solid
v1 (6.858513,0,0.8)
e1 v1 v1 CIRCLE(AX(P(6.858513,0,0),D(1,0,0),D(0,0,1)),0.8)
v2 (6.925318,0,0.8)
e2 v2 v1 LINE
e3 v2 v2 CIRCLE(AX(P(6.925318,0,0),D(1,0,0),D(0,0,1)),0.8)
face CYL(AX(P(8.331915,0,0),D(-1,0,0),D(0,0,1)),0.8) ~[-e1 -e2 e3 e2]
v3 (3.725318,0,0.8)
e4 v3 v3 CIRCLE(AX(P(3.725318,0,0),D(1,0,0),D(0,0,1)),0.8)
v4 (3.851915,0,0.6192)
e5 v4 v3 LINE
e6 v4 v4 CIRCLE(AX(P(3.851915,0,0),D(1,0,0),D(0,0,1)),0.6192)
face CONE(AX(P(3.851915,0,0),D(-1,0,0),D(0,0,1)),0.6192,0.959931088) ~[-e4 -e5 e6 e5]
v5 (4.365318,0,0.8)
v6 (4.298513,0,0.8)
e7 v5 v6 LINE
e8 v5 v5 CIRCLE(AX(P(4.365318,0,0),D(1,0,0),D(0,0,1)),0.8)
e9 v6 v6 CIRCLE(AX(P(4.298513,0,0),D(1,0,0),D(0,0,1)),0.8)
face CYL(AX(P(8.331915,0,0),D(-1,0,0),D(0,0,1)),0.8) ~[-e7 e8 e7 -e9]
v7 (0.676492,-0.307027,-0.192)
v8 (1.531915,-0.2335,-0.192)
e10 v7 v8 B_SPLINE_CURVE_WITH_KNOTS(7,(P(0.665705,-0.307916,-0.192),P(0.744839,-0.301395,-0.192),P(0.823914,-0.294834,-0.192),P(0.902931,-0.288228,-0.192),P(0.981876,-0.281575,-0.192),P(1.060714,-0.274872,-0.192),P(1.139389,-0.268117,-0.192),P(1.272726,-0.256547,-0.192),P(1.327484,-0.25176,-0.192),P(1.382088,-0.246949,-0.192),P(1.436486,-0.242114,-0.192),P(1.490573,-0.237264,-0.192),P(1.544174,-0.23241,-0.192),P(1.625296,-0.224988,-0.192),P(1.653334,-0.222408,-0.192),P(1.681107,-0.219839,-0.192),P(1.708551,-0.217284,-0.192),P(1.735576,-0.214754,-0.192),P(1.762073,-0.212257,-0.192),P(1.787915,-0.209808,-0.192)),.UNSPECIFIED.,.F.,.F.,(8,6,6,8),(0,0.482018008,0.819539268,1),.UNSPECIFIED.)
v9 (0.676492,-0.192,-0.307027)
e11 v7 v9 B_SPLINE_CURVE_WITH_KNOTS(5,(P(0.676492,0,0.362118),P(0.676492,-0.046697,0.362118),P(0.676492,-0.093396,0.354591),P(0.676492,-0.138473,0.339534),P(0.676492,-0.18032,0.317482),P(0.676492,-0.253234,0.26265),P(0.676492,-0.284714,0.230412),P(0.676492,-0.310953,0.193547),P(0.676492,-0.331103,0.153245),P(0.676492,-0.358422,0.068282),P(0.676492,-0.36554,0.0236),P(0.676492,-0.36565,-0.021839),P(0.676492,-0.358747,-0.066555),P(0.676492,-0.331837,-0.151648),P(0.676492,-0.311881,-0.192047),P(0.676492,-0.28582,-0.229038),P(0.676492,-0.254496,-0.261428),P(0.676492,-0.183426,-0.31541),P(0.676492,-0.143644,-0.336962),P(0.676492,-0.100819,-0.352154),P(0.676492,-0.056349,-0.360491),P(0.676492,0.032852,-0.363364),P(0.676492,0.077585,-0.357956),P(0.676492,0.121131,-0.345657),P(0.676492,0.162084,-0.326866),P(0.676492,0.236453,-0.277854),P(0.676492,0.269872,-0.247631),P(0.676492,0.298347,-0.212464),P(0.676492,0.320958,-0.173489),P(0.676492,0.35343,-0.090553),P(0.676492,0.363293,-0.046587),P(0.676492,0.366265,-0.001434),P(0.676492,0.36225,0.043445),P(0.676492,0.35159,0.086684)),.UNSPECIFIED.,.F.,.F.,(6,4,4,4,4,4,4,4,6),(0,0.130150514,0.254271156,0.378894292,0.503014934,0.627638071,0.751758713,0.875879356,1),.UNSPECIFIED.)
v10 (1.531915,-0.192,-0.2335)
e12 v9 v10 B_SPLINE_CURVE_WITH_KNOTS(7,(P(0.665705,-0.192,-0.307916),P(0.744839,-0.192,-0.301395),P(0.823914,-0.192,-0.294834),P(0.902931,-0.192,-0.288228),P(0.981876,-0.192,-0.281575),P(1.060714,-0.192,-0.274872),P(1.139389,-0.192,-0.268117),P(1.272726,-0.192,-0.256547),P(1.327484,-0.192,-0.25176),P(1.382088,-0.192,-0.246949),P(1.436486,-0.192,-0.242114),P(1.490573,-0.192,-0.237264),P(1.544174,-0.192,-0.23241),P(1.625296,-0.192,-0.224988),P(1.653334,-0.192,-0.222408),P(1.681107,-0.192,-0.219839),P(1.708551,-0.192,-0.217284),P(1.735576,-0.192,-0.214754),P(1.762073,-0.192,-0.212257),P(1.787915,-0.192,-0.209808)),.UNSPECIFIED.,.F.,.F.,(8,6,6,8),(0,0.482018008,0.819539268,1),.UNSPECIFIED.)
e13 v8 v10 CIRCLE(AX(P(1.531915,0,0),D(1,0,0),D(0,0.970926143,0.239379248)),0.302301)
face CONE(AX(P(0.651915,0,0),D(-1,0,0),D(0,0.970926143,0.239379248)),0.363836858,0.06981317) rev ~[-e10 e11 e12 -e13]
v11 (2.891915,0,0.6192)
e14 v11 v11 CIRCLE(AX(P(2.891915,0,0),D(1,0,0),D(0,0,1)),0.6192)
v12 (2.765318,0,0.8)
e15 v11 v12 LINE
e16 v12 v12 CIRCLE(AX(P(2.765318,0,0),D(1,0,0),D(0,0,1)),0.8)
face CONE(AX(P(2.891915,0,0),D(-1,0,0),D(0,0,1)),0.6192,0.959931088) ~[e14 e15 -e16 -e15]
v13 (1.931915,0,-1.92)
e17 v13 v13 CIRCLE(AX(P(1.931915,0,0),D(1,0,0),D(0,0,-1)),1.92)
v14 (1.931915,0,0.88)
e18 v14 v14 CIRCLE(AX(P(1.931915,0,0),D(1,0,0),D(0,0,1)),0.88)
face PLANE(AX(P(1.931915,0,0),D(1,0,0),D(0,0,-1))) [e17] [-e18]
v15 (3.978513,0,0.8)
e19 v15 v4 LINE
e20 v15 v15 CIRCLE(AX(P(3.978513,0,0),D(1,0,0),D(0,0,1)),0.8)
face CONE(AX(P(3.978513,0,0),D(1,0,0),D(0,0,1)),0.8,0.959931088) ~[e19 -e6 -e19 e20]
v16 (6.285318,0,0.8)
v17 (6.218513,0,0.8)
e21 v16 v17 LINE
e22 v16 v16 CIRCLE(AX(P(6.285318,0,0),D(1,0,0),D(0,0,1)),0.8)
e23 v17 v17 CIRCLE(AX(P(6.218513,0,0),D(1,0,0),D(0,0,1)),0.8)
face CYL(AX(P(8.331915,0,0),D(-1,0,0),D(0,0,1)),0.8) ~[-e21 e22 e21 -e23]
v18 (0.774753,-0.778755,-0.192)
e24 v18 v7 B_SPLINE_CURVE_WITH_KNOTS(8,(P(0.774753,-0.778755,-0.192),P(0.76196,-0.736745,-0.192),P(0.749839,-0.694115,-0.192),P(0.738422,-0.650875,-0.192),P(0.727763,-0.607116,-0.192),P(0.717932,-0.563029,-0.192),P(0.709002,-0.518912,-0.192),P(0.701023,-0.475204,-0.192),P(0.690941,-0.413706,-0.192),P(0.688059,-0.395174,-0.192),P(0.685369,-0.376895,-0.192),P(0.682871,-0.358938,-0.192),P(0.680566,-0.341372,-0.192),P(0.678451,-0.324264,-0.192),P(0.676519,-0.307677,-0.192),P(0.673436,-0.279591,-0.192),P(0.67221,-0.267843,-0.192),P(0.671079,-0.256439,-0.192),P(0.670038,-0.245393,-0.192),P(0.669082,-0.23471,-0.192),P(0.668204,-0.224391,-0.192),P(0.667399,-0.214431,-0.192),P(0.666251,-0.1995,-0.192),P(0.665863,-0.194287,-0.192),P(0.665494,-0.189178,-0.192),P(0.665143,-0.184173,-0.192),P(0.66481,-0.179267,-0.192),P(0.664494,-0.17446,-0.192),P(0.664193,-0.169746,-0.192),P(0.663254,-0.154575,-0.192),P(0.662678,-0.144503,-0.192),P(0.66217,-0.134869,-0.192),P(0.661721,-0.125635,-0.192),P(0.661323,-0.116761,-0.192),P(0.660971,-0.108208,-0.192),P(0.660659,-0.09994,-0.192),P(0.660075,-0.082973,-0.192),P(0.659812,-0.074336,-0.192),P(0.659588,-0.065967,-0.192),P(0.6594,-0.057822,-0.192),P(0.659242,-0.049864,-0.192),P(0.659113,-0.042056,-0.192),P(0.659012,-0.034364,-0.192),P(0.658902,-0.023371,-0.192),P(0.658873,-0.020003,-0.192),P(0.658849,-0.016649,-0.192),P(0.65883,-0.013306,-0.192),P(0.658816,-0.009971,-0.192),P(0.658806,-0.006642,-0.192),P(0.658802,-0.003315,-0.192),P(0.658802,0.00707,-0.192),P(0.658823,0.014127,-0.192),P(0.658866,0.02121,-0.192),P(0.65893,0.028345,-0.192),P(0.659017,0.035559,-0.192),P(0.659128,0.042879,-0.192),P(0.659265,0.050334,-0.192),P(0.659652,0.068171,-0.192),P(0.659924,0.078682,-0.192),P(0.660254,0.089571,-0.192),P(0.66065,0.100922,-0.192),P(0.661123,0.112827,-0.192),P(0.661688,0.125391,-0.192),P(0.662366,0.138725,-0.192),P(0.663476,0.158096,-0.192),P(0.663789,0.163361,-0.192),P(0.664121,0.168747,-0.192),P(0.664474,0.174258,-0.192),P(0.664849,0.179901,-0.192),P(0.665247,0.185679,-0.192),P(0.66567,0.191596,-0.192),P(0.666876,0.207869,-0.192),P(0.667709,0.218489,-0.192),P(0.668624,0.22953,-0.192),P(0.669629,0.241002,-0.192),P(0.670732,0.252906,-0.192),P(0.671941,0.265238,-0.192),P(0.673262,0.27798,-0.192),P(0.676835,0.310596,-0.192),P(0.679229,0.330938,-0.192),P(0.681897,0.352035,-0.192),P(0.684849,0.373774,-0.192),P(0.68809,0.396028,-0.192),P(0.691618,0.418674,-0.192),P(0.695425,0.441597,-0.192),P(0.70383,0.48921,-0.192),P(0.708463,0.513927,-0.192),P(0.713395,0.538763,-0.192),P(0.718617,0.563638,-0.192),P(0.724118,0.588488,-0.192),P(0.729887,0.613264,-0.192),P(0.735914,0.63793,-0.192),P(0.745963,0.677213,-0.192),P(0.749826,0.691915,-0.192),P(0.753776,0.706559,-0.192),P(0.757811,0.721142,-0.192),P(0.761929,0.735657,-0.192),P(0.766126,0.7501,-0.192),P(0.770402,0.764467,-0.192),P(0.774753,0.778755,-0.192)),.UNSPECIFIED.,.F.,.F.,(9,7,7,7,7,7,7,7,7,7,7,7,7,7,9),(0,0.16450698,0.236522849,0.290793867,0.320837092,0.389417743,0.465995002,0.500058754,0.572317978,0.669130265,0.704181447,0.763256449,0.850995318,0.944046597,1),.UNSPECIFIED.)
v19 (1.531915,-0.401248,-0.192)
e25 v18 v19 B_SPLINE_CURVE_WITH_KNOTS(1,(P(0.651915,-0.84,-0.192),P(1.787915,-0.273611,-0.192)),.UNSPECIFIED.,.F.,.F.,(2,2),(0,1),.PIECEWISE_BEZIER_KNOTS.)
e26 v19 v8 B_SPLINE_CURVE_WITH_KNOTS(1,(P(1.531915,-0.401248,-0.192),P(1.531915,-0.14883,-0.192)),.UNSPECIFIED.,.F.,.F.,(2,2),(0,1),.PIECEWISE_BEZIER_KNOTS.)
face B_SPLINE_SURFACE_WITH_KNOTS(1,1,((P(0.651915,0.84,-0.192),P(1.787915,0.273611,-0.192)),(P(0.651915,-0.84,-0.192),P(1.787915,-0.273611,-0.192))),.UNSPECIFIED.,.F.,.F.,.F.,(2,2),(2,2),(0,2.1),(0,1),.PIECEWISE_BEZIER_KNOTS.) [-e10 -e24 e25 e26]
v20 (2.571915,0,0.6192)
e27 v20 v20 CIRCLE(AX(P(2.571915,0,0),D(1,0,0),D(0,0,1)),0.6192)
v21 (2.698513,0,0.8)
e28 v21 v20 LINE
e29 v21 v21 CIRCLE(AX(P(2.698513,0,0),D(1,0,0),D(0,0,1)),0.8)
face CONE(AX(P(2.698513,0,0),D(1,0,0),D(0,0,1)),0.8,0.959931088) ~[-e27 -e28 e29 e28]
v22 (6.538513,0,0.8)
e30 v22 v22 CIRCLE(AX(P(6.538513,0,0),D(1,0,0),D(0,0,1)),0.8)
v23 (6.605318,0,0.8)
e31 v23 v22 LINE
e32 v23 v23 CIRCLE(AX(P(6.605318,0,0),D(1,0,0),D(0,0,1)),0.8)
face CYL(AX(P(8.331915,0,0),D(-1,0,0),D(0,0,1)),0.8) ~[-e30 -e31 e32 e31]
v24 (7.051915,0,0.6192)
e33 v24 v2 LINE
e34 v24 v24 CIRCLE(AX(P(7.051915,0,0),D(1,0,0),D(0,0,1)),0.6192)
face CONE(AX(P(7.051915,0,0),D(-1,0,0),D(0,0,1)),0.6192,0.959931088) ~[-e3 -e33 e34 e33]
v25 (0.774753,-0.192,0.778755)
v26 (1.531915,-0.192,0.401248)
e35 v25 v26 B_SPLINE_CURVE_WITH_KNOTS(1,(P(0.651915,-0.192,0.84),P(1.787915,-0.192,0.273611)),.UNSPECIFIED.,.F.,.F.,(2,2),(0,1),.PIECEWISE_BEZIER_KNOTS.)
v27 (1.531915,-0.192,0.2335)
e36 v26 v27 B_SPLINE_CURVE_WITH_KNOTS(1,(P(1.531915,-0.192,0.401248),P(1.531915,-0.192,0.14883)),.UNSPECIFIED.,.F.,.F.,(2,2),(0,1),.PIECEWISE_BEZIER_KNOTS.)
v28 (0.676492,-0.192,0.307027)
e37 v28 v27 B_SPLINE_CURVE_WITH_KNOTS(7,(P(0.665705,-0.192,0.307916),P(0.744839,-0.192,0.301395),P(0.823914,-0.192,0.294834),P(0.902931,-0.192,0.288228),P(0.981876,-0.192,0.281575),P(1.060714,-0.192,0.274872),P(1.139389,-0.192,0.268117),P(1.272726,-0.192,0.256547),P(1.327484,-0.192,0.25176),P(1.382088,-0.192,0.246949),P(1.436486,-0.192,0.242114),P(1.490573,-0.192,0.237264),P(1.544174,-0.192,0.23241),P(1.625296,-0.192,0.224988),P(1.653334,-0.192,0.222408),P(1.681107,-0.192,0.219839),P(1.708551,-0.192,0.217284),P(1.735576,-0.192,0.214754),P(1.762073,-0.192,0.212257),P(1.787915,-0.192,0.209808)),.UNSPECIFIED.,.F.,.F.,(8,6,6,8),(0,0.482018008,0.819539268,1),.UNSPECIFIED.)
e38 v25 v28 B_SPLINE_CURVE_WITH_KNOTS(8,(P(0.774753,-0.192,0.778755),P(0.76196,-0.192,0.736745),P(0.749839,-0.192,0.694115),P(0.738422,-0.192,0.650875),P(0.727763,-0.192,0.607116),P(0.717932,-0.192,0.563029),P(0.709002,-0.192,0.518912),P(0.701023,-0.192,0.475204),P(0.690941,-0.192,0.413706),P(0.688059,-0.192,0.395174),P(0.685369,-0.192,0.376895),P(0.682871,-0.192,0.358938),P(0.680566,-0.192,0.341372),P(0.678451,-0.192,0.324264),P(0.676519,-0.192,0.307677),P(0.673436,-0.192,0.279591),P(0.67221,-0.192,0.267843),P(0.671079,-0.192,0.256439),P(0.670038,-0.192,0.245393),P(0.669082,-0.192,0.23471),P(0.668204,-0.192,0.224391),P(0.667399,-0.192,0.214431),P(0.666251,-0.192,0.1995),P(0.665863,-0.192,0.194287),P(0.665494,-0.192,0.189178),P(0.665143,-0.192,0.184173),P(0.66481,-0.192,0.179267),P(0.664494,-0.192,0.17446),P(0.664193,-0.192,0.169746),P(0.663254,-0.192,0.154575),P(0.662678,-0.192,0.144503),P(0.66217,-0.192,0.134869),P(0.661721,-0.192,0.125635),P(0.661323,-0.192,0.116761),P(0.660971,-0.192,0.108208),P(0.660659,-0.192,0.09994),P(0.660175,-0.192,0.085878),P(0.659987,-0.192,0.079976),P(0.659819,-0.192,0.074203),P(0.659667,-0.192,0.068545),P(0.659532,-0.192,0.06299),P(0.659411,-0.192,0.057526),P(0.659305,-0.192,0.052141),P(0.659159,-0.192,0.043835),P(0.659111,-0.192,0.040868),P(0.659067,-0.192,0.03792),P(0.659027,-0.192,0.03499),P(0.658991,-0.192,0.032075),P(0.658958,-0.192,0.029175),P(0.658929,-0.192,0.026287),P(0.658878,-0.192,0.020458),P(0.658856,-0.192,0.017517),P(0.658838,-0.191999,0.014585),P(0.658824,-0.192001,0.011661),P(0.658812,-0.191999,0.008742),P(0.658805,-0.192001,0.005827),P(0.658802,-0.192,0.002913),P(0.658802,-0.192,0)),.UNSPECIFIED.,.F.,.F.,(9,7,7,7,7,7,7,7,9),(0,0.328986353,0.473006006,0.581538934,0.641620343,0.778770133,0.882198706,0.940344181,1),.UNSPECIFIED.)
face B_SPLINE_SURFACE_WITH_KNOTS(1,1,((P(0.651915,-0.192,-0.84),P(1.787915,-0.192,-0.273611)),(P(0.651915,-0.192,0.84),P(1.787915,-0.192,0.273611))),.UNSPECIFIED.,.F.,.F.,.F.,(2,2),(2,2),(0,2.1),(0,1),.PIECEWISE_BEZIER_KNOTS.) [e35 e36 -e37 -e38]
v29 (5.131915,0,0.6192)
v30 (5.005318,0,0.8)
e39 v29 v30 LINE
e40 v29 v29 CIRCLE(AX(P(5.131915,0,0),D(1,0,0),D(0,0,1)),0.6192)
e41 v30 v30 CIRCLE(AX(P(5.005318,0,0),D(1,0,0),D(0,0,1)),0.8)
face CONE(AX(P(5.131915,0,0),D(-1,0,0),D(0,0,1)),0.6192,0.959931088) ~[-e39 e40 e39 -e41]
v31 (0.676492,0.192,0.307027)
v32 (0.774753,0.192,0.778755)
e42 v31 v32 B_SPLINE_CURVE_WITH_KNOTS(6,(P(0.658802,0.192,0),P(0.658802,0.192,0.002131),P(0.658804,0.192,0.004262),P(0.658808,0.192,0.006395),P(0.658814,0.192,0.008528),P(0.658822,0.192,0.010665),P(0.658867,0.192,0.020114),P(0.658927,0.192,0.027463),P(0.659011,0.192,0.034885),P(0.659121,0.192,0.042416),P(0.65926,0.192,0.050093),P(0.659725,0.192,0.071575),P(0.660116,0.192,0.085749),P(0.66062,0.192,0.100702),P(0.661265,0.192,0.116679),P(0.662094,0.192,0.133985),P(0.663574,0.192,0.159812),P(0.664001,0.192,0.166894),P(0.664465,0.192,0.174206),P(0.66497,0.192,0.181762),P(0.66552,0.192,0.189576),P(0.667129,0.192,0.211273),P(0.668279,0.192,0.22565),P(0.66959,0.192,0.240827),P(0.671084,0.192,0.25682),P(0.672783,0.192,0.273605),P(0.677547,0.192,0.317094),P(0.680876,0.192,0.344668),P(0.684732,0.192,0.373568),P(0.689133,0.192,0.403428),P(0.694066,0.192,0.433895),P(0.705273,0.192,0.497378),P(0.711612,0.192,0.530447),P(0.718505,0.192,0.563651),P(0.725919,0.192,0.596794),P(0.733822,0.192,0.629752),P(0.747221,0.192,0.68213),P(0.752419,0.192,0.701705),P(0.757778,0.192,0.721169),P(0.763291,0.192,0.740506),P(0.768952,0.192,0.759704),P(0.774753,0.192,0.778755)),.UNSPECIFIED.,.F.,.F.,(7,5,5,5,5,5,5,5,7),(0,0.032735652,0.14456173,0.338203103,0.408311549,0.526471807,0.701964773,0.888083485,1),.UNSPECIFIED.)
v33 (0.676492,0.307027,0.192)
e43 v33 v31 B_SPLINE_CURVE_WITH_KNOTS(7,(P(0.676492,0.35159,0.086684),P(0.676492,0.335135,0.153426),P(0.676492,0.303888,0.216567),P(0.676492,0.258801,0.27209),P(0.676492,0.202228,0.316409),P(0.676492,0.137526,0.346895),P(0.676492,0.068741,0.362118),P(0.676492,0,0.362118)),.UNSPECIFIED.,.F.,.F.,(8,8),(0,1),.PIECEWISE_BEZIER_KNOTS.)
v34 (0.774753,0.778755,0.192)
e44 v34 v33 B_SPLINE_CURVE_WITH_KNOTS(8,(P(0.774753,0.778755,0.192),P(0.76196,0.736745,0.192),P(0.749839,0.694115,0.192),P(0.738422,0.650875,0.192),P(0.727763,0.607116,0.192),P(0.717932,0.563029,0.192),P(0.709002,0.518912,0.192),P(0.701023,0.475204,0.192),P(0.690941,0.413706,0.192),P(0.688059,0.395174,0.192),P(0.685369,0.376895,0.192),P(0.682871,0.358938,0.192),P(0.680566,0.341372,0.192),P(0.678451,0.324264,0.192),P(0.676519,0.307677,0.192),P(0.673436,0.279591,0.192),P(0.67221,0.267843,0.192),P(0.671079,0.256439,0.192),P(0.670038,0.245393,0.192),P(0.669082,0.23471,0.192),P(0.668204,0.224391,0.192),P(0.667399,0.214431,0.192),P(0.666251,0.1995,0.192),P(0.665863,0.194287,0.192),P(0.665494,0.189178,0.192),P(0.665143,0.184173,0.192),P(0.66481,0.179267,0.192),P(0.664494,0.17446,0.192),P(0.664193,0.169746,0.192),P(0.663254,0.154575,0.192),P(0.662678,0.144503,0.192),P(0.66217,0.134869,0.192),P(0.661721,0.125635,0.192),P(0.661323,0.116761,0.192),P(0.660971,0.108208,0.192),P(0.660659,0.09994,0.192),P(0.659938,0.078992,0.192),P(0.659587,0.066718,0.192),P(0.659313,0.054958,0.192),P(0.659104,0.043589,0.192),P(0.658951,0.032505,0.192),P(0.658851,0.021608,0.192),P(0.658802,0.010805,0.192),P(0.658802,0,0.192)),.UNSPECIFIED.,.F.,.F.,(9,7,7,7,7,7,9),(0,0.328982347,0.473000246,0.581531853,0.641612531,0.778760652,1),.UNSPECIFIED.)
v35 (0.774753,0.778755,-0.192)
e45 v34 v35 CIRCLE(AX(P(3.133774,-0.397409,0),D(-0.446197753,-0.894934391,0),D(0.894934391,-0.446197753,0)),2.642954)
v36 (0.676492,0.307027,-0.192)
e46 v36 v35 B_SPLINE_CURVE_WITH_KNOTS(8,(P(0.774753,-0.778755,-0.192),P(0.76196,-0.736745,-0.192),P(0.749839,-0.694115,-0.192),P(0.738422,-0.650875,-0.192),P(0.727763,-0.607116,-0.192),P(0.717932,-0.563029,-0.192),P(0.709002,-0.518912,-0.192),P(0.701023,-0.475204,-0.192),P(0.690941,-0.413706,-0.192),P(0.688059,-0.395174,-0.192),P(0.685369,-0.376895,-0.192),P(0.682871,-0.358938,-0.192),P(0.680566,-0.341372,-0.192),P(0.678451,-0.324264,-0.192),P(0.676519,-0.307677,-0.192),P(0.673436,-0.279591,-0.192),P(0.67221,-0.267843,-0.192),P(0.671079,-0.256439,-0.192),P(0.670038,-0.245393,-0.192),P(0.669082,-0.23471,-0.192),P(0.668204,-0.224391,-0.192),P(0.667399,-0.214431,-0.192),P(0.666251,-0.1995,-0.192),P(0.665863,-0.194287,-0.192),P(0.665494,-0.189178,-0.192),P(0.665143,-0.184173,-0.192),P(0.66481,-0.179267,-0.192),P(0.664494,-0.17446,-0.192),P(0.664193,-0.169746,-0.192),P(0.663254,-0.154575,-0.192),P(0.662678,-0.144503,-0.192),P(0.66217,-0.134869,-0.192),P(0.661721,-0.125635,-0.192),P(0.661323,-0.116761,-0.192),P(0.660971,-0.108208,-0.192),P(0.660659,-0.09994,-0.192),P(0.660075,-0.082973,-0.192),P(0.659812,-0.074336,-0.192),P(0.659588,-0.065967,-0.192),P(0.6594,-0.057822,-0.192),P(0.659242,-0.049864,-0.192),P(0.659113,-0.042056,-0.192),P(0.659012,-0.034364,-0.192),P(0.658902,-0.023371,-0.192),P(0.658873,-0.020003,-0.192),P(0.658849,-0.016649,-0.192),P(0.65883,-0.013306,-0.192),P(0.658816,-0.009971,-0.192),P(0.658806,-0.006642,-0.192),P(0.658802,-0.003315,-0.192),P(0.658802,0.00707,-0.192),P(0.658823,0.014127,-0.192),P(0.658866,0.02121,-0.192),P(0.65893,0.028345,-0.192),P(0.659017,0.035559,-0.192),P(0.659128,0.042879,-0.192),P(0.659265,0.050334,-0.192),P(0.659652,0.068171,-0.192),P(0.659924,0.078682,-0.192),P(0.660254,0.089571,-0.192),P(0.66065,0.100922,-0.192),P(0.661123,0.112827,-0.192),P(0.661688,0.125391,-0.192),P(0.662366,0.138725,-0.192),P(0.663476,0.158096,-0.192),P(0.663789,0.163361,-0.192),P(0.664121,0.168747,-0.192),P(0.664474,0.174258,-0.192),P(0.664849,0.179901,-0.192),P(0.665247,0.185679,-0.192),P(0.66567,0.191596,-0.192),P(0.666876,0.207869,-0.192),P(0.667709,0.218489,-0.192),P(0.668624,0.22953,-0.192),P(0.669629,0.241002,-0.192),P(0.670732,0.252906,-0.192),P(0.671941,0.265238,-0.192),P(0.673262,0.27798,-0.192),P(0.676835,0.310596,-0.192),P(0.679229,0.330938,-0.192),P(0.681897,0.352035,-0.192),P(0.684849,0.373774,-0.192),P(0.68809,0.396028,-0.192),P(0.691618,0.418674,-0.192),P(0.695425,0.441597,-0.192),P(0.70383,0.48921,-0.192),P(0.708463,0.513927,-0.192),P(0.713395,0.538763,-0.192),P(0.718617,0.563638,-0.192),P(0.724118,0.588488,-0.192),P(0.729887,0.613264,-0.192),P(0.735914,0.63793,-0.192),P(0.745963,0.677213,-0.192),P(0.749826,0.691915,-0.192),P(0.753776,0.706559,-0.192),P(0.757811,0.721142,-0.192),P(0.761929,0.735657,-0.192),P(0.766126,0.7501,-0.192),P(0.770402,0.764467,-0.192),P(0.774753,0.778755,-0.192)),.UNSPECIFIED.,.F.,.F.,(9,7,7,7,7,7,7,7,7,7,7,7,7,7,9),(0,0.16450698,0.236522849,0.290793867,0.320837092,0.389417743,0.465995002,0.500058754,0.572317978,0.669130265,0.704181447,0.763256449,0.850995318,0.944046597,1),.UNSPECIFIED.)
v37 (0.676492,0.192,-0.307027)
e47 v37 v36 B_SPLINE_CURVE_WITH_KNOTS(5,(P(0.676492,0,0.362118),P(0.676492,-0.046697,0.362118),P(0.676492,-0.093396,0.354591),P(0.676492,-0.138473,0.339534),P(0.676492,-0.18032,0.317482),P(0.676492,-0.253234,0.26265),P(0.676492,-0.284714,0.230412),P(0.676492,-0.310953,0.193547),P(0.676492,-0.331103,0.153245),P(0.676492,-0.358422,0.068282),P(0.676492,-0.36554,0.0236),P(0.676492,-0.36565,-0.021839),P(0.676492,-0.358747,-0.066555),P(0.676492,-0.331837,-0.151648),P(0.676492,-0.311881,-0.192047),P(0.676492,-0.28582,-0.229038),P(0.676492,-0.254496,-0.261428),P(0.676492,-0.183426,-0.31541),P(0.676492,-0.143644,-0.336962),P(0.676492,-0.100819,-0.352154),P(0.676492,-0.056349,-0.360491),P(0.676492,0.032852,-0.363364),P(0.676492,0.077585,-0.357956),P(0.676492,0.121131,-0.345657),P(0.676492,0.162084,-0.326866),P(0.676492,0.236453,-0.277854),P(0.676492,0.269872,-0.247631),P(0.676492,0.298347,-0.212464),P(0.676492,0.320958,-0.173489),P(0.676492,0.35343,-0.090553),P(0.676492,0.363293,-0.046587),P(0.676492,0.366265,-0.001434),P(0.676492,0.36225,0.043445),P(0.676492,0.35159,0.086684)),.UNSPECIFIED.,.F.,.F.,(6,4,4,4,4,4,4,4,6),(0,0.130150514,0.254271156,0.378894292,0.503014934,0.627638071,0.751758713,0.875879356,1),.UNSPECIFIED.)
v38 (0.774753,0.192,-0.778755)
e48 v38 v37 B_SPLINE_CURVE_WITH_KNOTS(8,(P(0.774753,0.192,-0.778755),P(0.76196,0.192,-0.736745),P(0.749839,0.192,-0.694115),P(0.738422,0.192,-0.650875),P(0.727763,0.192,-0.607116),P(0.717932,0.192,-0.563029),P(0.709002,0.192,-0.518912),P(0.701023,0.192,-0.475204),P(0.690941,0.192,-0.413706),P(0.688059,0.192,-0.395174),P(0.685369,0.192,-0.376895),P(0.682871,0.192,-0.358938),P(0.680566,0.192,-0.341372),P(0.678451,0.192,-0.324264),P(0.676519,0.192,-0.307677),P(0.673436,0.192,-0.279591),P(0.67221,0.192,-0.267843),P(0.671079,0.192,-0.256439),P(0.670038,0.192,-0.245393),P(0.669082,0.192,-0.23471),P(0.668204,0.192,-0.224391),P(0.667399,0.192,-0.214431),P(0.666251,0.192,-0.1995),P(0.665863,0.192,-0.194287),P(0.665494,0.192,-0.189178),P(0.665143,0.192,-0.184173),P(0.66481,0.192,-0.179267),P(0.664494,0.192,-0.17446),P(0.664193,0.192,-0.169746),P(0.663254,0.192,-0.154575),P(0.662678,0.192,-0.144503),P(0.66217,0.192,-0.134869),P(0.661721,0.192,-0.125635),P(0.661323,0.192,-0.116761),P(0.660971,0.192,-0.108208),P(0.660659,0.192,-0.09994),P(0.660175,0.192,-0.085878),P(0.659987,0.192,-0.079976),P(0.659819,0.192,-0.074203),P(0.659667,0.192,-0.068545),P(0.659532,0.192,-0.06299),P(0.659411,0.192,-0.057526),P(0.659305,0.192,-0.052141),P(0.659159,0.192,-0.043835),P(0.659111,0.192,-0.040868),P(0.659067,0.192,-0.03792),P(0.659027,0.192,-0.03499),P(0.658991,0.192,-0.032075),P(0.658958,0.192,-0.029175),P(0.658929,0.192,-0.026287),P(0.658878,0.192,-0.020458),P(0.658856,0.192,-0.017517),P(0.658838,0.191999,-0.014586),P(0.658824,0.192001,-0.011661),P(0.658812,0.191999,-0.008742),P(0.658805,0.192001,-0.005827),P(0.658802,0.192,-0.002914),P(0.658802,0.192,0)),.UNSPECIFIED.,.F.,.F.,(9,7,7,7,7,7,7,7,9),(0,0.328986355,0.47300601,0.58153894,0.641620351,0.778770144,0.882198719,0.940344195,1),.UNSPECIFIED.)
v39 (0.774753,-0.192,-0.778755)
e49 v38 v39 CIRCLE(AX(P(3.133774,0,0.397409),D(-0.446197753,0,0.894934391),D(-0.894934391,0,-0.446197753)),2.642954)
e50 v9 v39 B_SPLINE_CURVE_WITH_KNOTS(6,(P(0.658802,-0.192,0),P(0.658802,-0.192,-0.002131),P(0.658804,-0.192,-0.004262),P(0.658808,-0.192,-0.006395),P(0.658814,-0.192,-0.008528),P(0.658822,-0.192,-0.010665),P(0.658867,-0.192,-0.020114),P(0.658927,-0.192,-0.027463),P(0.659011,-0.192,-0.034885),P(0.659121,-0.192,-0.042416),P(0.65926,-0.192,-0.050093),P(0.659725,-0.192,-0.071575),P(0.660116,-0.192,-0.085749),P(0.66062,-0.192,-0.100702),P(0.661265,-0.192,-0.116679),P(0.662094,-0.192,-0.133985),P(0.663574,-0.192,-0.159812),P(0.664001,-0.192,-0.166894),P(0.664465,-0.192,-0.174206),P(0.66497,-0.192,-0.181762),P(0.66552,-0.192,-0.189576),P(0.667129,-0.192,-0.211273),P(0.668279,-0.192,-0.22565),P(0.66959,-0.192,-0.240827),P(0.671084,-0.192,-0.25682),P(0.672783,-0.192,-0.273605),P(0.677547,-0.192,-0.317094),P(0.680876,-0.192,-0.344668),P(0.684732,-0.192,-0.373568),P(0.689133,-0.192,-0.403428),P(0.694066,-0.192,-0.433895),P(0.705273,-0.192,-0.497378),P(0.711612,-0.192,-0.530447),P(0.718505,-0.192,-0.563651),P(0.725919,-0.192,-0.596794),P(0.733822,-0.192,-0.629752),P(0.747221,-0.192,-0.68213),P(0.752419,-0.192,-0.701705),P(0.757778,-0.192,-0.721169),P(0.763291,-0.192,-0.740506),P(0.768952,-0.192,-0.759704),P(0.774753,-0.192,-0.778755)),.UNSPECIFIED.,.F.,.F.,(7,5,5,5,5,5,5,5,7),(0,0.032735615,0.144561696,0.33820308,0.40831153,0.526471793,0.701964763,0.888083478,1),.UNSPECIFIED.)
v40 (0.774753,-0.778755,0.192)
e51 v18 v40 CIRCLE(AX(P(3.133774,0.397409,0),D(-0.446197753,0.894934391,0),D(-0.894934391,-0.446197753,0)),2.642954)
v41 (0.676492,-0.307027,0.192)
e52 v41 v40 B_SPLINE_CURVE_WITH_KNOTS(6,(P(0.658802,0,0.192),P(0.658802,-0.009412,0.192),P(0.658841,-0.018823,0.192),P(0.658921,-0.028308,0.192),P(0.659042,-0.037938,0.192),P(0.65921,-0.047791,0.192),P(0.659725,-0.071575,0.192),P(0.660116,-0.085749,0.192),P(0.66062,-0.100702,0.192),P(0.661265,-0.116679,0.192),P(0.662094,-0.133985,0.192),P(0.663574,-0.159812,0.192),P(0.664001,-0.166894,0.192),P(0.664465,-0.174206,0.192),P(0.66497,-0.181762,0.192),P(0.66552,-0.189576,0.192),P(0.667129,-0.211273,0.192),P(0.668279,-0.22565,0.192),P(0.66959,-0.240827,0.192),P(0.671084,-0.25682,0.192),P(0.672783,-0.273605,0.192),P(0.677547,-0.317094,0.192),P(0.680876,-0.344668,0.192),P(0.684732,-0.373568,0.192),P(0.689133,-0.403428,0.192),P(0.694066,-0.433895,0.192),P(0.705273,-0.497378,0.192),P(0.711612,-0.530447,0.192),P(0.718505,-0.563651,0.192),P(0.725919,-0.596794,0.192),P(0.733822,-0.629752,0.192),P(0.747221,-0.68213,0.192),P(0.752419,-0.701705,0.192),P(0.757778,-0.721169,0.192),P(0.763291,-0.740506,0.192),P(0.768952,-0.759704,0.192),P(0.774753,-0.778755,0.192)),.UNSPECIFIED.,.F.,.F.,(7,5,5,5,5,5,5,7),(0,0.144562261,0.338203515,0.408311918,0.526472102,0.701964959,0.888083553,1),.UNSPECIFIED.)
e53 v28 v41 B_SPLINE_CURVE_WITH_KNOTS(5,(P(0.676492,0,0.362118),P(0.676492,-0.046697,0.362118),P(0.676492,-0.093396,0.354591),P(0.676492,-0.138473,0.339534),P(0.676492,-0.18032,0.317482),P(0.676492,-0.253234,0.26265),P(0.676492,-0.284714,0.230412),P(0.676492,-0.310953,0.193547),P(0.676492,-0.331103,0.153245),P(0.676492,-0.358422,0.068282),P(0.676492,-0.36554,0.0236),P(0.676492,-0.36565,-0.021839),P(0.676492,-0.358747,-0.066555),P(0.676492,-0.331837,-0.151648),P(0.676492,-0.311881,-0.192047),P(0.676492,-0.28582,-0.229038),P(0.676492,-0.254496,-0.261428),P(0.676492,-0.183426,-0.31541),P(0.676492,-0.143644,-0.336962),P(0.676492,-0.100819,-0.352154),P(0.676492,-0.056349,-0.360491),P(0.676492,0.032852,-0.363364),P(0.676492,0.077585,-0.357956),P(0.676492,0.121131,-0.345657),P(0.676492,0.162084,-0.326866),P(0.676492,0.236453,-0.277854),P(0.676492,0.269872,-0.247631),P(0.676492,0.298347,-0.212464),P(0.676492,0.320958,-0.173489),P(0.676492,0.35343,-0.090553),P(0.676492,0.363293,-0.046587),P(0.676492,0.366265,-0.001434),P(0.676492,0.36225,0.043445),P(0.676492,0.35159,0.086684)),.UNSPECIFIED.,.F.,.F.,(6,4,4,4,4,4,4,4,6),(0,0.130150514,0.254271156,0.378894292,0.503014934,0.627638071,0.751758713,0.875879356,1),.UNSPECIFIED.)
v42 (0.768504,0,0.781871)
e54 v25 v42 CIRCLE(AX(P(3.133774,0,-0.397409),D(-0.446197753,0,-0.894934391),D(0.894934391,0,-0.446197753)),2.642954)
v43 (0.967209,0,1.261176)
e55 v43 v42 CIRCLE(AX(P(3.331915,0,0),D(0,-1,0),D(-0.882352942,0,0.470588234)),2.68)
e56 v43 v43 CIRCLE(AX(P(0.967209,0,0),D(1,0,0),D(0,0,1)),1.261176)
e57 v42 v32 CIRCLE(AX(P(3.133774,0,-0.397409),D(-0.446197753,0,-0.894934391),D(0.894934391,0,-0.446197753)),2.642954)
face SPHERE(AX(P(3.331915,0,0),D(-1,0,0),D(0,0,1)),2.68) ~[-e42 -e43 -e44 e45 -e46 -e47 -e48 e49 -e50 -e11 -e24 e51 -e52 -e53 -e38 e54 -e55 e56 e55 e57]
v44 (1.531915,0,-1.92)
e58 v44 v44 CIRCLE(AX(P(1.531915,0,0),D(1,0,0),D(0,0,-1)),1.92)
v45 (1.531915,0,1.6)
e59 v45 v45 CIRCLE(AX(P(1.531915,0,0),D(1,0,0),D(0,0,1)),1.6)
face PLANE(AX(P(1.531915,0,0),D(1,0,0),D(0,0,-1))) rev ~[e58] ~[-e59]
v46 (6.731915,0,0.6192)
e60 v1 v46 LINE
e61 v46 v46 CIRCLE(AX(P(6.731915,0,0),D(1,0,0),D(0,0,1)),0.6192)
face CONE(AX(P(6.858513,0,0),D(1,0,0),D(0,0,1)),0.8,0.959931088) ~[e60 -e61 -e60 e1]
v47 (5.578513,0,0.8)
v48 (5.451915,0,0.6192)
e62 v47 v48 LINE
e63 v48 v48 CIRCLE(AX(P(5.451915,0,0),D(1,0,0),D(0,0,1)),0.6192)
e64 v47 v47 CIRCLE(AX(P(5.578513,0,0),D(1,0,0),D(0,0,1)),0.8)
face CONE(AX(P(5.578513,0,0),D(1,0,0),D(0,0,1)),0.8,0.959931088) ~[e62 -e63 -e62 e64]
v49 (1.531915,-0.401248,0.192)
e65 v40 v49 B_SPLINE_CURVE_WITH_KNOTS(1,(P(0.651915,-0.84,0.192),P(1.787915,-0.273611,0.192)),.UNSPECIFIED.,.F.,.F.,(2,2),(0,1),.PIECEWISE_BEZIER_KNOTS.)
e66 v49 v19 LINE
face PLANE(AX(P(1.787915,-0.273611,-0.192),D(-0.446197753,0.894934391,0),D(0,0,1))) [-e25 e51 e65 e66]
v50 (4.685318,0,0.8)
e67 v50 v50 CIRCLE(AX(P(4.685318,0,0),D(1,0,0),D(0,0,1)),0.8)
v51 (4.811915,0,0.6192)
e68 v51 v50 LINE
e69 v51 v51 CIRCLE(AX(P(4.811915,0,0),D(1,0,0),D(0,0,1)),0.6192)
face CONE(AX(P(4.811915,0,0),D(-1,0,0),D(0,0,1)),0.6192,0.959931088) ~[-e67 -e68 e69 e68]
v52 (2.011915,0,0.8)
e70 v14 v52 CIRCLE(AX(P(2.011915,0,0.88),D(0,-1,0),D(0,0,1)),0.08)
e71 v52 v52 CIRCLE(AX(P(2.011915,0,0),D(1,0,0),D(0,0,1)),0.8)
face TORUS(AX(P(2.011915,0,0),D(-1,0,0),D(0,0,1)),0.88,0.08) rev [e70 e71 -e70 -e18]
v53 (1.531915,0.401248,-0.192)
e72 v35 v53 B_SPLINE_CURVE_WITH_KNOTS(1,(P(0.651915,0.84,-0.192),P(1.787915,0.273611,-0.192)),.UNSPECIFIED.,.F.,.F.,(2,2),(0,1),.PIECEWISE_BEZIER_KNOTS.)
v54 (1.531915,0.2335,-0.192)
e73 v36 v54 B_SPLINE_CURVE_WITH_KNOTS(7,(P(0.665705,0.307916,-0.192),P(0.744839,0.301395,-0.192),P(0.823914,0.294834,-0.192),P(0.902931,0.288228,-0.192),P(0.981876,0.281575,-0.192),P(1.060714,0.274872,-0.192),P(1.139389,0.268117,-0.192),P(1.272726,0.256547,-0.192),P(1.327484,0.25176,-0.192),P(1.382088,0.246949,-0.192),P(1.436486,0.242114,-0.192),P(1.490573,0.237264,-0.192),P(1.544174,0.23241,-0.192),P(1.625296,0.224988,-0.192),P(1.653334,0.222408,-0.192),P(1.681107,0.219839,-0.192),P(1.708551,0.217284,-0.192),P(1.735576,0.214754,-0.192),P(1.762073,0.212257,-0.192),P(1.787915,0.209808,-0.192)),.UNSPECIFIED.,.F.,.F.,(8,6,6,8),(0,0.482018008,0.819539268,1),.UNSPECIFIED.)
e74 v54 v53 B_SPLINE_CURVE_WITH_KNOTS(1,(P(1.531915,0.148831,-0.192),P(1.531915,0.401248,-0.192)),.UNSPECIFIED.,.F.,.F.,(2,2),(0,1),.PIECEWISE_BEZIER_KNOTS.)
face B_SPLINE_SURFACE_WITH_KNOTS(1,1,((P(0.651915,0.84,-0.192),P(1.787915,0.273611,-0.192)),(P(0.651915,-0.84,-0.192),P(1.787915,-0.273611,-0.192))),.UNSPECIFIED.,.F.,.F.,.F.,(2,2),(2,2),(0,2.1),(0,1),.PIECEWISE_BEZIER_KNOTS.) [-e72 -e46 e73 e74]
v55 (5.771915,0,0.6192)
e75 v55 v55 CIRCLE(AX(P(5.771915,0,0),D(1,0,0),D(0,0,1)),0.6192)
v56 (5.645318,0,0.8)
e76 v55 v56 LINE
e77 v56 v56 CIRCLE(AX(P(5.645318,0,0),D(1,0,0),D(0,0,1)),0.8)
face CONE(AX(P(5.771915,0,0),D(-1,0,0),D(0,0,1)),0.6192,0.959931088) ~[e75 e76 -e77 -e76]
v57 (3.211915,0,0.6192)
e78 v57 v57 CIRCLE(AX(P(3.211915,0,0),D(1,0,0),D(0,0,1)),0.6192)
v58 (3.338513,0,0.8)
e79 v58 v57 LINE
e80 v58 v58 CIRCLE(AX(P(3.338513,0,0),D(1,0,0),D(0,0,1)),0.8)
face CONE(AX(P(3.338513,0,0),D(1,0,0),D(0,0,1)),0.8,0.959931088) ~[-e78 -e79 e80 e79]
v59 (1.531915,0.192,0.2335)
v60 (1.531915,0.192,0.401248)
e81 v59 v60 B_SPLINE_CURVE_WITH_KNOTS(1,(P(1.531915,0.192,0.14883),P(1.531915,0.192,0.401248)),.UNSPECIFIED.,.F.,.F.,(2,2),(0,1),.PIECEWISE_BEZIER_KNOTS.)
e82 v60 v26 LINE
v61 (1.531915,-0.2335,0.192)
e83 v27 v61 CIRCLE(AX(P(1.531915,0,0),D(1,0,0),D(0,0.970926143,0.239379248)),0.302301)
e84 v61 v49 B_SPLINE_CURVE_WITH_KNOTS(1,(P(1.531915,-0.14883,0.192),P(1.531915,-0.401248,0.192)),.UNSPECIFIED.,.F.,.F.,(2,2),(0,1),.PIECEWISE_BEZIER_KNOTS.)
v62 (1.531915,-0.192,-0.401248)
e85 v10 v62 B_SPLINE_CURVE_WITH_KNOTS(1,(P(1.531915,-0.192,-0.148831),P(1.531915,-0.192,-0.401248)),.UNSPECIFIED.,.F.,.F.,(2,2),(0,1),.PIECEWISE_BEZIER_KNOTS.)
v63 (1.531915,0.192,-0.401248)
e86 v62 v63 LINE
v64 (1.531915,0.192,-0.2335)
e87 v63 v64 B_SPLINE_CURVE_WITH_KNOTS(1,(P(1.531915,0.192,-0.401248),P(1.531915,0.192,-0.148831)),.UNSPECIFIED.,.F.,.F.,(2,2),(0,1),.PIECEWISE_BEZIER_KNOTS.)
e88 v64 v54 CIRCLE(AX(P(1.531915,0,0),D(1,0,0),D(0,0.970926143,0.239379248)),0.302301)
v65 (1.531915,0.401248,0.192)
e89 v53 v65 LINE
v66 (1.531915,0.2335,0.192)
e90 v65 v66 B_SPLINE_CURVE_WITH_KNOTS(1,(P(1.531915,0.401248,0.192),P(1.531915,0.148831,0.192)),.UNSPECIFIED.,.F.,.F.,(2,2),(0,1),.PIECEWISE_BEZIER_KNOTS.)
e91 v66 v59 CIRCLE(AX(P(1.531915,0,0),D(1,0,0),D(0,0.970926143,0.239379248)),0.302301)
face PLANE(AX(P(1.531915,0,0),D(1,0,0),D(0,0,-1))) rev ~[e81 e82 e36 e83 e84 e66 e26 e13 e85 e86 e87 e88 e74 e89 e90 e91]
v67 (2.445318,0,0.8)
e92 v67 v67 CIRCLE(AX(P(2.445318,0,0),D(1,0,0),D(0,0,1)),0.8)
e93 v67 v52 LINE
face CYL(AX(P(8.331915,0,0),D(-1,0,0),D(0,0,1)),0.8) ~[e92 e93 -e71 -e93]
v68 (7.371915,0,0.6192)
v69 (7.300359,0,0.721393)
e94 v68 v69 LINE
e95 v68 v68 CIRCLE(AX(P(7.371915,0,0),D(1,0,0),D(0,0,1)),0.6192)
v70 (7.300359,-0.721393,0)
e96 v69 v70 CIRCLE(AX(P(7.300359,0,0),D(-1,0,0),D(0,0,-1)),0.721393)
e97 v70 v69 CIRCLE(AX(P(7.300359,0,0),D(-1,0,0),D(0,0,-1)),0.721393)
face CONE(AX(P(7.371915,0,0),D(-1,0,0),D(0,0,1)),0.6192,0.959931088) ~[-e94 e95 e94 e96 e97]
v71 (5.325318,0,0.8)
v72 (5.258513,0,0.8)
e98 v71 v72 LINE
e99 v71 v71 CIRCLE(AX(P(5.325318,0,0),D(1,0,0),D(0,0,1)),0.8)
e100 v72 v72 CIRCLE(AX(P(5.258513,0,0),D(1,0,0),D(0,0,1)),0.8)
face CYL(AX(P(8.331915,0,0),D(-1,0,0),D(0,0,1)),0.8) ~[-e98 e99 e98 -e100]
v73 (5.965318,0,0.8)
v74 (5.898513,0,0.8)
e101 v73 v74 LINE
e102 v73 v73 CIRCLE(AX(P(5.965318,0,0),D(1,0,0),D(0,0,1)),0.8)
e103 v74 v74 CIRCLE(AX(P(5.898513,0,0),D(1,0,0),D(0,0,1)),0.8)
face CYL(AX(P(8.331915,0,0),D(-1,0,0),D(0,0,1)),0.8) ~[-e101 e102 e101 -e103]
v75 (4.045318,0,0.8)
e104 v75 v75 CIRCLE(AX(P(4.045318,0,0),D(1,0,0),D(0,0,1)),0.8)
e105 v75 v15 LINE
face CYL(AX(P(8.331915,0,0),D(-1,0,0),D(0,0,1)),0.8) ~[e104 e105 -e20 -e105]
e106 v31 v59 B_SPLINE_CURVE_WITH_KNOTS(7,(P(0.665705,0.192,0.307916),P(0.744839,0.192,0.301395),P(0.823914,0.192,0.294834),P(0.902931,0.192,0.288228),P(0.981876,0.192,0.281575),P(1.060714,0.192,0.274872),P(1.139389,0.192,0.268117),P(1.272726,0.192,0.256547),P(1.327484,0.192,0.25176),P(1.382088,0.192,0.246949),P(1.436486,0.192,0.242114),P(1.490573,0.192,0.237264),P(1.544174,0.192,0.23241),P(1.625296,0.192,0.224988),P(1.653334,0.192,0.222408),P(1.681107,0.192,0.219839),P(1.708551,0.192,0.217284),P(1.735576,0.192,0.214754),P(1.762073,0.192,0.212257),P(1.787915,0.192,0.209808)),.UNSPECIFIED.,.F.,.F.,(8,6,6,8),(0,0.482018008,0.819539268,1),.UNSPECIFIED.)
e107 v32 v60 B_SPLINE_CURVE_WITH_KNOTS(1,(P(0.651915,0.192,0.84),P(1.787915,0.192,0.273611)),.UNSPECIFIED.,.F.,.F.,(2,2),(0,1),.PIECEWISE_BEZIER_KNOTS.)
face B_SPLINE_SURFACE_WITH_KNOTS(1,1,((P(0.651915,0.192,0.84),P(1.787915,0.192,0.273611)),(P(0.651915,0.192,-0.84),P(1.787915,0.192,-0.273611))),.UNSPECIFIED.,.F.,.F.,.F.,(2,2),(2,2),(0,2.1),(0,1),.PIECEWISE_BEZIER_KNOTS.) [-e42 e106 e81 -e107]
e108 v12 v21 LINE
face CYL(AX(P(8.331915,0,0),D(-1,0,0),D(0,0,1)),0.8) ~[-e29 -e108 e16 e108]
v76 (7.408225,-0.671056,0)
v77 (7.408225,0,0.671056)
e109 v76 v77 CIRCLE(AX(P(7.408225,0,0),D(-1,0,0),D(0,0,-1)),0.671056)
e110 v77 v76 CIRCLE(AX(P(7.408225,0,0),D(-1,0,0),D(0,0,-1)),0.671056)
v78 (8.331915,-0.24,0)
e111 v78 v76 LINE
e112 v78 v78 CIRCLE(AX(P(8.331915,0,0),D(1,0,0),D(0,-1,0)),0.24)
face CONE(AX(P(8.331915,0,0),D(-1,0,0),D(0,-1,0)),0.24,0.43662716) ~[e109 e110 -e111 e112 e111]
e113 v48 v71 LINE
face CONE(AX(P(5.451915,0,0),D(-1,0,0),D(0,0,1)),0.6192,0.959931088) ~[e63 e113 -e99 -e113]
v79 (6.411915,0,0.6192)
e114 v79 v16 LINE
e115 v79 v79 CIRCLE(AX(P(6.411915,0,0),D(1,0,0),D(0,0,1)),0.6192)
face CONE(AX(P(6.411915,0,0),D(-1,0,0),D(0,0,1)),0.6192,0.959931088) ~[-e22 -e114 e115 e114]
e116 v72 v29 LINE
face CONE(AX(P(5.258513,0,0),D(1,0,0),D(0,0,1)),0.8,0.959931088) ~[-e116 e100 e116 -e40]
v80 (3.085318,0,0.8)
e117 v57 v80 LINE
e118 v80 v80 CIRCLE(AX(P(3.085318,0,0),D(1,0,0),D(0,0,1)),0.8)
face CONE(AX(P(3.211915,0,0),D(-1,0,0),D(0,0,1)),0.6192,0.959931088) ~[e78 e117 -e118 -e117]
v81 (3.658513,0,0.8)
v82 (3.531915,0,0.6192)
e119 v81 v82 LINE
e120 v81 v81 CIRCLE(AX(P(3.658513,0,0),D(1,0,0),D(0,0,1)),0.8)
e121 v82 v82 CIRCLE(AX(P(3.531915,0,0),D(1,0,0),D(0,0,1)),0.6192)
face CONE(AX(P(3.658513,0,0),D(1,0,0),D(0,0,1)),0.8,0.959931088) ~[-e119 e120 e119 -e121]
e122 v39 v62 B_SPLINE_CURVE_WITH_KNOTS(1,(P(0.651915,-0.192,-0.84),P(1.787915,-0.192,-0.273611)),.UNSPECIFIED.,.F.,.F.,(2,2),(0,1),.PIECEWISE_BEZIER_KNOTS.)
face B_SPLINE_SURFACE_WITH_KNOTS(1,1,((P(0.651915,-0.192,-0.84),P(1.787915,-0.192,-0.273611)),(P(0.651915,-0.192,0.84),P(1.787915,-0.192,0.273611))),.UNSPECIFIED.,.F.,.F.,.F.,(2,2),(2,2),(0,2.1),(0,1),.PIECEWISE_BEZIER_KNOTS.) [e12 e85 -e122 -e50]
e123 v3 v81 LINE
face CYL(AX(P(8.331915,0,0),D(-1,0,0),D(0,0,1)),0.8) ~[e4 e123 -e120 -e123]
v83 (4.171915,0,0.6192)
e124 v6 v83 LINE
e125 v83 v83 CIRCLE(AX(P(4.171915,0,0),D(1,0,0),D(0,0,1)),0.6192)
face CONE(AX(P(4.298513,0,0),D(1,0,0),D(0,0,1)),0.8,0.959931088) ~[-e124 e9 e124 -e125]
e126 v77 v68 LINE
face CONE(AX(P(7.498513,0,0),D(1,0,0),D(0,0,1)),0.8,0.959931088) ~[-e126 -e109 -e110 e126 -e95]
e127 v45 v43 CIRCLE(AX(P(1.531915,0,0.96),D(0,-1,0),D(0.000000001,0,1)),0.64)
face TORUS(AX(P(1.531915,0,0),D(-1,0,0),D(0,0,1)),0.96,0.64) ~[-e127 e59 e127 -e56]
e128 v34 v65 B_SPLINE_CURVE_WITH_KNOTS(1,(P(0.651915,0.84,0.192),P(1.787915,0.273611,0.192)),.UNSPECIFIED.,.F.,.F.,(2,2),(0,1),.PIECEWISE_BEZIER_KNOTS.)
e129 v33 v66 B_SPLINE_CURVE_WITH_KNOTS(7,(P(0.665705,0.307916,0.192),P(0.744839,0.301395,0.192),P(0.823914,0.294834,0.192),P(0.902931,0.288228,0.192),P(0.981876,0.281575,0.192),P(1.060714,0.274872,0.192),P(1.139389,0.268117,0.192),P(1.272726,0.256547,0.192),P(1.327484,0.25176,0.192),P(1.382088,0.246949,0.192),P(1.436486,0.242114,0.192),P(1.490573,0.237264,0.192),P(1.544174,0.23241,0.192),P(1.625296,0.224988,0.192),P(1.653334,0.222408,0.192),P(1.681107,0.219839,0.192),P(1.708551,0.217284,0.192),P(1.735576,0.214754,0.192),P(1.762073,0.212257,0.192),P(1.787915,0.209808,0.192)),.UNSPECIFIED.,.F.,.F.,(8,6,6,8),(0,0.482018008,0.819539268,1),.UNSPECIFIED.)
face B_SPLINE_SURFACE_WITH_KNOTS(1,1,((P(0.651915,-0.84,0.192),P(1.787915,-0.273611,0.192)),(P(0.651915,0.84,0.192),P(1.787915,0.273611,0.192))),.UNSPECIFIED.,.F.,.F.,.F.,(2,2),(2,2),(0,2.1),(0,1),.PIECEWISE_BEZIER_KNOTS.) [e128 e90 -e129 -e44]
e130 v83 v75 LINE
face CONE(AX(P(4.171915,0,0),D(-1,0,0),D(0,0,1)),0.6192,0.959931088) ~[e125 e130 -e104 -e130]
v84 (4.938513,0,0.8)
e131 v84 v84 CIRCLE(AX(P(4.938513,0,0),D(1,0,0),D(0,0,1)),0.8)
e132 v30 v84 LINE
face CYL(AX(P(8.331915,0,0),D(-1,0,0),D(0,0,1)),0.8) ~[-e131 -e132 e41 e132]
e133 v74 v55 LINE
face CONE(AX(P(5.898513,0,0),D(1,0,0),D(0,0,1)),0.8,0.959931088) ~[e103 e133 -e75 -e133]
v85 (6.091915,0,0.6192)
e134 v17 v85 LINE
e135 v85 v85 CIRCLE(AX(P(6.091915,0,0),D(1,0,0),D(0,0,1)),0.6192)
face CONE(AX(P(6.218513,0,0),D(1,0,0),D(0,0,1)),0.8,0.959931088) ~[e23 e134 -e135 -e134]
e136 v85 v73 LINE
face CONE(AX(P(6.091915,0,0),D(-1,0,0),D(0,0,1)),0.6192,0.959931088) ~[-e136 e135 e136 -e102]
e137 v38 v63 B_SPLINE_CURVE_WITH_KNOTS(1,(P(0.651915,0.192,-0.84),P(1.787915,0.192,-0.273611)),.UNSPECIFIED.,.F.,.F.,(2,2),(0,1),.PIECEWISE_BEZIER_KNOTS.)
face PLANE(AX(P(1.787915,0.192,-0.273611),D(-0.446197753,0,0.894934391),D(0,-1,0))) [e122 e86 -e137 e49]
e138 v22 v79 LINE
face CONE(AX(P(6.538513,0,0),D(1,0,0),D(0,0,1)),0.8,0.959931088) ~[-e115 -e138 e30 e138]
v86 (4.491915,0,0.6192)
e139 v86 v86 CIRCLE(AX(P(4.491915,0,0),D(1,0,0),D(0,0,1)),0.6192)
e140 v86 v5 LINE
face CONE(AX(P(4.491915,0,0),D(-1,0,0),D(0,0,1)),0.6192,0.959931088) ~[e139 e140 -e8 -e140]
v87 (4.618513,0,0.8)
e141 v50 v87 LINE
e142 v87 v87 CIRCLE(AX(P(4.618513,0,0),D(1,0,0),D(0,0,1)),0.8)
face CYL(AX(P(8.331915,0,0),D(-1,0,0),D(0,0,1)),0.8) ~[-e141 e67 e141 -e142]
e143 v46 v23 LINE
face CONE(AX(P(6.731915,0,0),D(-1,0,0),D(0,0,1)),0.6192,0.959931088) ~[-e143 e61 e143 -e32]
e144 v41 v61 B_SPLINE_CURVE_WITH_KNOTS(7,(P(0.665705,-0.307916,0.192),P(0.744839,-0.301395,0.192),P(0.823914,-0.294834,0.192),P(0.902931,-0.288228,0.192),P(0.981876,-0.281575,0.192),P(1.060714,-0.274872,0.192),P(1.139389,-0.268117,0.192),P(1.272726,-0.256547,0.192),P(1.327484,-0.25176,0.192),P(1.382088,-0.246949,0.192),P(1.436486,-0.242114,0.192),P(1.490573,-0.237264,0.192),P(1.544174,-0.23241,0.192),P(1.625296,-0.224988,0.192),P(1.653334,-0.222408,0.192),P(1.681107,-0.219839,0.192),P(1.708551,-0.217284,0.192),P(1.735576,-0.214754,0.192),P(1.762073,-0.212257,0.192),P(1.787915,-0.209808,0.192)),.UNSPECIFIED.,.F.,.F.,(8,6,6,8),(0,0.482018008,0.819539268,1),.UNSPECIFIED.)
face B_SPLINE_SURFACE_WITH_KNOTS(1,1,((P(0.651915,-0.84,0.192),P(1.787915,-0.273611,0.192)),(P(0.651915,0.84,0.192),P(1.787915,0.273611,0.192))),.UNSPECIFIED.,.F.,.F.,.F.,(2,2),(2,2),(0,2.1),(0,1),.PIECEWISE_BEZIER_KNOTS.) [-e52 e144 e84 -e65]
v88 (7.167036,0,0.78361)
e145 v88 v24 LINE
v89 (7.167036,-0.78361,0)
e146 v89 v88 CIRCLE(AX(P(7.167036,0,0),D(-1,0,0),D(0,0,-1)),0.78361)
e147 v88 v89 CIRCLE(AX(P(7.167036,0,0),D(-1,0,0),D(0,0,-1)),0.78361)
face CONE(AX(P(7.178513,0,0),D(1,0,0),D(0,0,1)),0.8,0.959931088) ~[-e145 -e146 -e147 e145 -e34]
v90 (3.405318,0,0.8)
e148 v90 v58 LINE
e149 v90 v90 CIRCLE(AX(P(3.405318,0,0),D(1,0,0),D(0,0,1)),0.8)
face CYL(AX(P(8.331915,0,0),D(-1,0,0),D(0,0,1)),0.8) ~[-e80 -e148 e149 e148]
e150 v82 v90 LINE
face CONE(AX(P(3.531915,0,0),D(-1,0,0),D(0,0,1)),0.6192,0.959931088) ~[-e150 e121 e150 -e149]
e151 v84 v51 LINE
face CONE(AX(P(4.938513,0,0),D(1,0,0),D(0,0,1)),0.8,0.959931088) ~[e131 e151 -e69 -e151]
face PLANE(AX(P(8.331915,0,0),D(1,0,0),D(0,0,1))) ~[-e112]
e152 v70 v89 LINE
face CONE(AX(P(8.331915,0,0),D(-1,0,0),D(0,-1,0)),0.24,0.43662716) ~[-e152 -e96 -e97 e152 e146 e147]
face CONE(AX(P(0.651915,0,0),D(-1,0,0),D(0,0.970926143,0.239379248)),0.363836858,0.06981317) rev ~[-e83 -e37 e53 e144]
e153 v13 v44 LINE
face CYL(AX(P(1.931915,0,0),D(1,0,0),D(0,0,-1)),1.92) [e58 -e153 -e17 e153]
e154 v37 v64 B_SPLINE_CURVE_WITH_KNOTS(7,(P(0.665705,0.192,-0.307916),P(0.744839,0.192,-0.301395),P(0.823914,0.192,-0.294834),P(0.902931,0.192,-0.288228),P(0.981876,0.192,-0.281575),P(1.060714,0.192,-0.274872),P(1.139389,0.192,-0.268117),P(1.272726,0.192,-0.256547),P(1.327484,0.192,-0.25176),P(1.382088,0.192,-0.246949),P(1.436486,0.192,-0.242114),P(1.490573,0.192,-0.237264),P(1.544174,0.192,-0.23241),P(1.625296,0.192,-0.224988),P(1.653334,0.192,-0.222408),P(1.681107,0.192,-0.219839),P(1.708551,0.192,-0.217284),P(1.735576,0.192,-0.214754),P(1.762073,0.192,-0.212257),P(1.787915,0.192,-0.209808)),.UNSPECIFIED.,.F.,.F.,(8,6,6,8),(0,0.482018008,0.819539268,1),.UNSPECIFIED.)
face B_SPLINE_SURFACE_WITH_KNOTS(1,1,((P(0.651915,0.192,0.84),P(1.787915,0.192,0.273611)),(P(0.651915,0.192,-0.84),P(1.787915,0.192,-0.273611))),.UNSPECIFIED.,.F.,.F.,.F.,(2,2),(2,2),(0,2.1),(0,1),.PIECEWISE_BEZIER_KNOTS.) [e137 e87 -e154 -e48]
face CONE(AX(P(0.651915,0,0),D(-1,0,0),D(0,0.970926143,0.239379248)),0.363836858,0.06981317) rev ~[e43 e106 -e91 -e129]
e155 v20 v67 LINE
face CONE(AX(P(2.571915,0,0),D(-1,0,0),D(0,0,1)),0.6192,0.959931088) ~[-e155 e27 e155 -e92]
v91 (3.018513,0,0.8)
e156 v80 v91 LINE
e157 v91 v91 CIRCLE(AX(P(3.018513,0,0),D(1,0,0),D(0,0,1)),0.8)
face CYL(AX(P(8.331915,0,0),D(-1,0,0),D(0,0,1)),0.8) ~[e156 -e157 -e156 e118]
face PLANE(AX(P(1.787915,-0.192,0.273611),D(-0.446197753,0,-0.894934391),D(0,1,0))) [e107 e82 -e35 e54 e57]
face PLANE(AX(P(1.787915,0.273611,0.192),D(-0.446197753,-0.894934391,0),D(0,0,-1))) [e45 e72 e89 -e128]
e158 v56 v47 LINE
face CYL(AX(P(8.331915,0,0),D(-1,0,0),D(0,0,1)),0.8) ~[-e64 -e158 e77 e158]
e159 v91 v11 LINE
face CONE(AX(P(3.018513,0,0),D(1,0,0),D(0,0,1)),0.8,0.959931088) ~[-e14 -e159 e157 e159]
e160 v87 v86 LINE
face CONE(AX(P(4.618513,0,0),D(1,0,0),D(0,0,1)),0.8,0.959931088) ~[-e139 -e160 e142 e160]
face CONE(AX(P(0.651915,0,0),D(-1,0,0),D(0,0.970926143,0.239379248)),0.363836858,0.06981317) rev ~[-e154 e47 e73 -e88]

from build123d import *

# Parameters (mm, degrees)
FILLET1_R                = 0.1
RECPAT_COUNT             = 2
RECPAT_ANGLE             = 90
THDSCHPAT_COUNT          = 19
THDSCHPAT_PITCH          = 0.4
ESBO_O1_R                = 2.4
RESSALTO_EXTRUS_O1_DEPTH = 0.5
SCALE1_SCALE             = 0.8


with BuildPart() as part:
    # BodySke → Base-Revolve (revolve)
    with BuildSketch(Plane.XY, mode=Mode.PRIVATE) as base_revolve_sk:
        with BuildLine():
            Line((1.6, 1), (1.6, 2))
            Line((1.6, 2), (1.1, 2))
            ThreePointArc((1.1, 2), (0.688403396, 1.885994341), (0.394117647, 1.576470588))
            ThreePointArc((0.394117647, 1.576470588), (0.100022625, 0.812494344), (0, 0))
            Line((0, 0), (9.6, 0))
            Line((9.6, 0), (9.6, 1))
            Line((9.6, 1), (1.6, 1))
        make_face()
    revolve(base_revolve_sk.sketch.rotate(Axis((1.1, 0, 0), (1, 0, 0)), 90), axis=Axis((1.1, 0, 0), (1, 0, 0)))

    # Fillet1
    fillet1_edges = [part.edges().sort_by_distance(p)[0] for p in [
        (1.6, 0, -1),
    ]]
    fillet(fillet1_edges, radius=FILLET1_R)

    # Sketch3 → Recess section 0
    with BuildSketch(Plane(origin=(0, 0, 0), x_dir=(0, 0, -1), z_dir=(1, 0, 0))):
        with BuildLine():
            Line((0.24, -1.05), (-0.24, -1.05))
            Line((-0.24, -1.05), (-0.24, 1.05))
            Line((-0.24, 1.05), (0.24, 1.05))
            Line((0.24, 1.05), (0.24, -1.05))
        make_face()
    # Sketch4 → Recess section 1
    with BuildSketch(Plane(origin=(1.42, 0, 0), x_dir=(0, 0, -1), z_dir=(1, 0, 0))):
        with BuildLine():
            Line((0.24, -0.342014235), (-0.24, -0.342014235))
            Line((-0.24, -0.342014235), (-0.24, 0.342014235))
            Line((-0.24, 0.342014235), (0.24, 0.342014235))
            Line((0.24, 0.342014235), (0.24, -0.342014235))
        make_face()
    recess = loft(mode=Mode.SUBTRACT)

    # RecPat: Recess ×2 about axis
    recpat_axis = Axis((0, 0, 0), (1, 0, 0))
    for i in range(1, RECPAT_COUNT):
        add(recess.rotate(recpat_axis, i * RECPAT_ANGLE / (RECPAT_COUNT - 1)), mode=Mode.SUBTRACT)

    # RecCorSke → RecessCore (revolve, cut)
    with BuildSketch(Plane.XY, mode=Mode.PRIVATE) as recesscore_sk:
        Polygon((0, 0), (0, 0.454796073), (1.42, 0.3555), (1.535508952, 0), align=None)
    revolve(recesscore_sk.sketch.rotate(Axis((-3.175, 0, 0), (1, 0, 0)), 13.849905977), axis=Axis((-3.175, 0, 0), (1, 0, 0)), mode=Mode.SUBTRACT)

    # ThdSchSke → ThreadSchematic (revolve, cut)
    with BuildSketch(Plane.XY, mode=Mode.PRIVATE) as threadschematic_sk:
        Polygon((2.4, -0.774), (2.241753096, -1), (2.241753096, -1.25), (2.558246904, -1.25), (2.558246904, -1), align=None)
    threadschematic = revolve(threadschematic_sk.sketch.rotate(Axis((-3.175, 0, 0), (1, 0, 0)), 270), axis=Axis((-3.175, 0, 0), (1, 0, 0)), mode=Mode.SUBTRACT)

    # ThdSchPat: ThreadSchematic ×19
    with Locations(*[(i * THDSCHPAT_PITCH, 0, 0) for i in range(1, THDSCHPAT_COUNT)]):
        add(threadschematic, mode=Mode.SUBTRACT)

    # Esboço1 → Ressalto-extrusão1 (add)
    with BuildSketch(Plane(origin=(1.6, 0, 0), x_dir=(0, 0, -1), z_dir=(1, 0, 0))):
        Circle(ESBO_O1_R)
    extrude(amount=-RESSALTO_EXTRUS_O1_DEPTH)

    # Esboço2 → Corte-Revolução1 (revolve, cut)
    with BuildSketch(Plane(origin=(0, 0, 0), x_dir=(1, 0, 0), z_dir=(0, 1, 0)), mode=Mode.PRIVATE) as corte_revolu_o1_sk:
        Polygon((9.6, 0.3), (8.1, 1), (9.6, 1), align=None)
    revolve(corte_revolu_o1_sk.sketch.rotate(Axis((0, 0, 0), (1, 0, 0)), 270), axis=Axis((0, 0, 0), (1, 0, 0)), mode=Mode.SUBTRACT)


with BuildPart() as part_1:
    # Scale1: scaled about (3.259576081, 1.9e-08, -1.5e-08)
    add(part.part.scale(SCALE1_SCALE).moved(Location((0.651915216, 4e-09, -3e-09))))


solid = part_1.part
